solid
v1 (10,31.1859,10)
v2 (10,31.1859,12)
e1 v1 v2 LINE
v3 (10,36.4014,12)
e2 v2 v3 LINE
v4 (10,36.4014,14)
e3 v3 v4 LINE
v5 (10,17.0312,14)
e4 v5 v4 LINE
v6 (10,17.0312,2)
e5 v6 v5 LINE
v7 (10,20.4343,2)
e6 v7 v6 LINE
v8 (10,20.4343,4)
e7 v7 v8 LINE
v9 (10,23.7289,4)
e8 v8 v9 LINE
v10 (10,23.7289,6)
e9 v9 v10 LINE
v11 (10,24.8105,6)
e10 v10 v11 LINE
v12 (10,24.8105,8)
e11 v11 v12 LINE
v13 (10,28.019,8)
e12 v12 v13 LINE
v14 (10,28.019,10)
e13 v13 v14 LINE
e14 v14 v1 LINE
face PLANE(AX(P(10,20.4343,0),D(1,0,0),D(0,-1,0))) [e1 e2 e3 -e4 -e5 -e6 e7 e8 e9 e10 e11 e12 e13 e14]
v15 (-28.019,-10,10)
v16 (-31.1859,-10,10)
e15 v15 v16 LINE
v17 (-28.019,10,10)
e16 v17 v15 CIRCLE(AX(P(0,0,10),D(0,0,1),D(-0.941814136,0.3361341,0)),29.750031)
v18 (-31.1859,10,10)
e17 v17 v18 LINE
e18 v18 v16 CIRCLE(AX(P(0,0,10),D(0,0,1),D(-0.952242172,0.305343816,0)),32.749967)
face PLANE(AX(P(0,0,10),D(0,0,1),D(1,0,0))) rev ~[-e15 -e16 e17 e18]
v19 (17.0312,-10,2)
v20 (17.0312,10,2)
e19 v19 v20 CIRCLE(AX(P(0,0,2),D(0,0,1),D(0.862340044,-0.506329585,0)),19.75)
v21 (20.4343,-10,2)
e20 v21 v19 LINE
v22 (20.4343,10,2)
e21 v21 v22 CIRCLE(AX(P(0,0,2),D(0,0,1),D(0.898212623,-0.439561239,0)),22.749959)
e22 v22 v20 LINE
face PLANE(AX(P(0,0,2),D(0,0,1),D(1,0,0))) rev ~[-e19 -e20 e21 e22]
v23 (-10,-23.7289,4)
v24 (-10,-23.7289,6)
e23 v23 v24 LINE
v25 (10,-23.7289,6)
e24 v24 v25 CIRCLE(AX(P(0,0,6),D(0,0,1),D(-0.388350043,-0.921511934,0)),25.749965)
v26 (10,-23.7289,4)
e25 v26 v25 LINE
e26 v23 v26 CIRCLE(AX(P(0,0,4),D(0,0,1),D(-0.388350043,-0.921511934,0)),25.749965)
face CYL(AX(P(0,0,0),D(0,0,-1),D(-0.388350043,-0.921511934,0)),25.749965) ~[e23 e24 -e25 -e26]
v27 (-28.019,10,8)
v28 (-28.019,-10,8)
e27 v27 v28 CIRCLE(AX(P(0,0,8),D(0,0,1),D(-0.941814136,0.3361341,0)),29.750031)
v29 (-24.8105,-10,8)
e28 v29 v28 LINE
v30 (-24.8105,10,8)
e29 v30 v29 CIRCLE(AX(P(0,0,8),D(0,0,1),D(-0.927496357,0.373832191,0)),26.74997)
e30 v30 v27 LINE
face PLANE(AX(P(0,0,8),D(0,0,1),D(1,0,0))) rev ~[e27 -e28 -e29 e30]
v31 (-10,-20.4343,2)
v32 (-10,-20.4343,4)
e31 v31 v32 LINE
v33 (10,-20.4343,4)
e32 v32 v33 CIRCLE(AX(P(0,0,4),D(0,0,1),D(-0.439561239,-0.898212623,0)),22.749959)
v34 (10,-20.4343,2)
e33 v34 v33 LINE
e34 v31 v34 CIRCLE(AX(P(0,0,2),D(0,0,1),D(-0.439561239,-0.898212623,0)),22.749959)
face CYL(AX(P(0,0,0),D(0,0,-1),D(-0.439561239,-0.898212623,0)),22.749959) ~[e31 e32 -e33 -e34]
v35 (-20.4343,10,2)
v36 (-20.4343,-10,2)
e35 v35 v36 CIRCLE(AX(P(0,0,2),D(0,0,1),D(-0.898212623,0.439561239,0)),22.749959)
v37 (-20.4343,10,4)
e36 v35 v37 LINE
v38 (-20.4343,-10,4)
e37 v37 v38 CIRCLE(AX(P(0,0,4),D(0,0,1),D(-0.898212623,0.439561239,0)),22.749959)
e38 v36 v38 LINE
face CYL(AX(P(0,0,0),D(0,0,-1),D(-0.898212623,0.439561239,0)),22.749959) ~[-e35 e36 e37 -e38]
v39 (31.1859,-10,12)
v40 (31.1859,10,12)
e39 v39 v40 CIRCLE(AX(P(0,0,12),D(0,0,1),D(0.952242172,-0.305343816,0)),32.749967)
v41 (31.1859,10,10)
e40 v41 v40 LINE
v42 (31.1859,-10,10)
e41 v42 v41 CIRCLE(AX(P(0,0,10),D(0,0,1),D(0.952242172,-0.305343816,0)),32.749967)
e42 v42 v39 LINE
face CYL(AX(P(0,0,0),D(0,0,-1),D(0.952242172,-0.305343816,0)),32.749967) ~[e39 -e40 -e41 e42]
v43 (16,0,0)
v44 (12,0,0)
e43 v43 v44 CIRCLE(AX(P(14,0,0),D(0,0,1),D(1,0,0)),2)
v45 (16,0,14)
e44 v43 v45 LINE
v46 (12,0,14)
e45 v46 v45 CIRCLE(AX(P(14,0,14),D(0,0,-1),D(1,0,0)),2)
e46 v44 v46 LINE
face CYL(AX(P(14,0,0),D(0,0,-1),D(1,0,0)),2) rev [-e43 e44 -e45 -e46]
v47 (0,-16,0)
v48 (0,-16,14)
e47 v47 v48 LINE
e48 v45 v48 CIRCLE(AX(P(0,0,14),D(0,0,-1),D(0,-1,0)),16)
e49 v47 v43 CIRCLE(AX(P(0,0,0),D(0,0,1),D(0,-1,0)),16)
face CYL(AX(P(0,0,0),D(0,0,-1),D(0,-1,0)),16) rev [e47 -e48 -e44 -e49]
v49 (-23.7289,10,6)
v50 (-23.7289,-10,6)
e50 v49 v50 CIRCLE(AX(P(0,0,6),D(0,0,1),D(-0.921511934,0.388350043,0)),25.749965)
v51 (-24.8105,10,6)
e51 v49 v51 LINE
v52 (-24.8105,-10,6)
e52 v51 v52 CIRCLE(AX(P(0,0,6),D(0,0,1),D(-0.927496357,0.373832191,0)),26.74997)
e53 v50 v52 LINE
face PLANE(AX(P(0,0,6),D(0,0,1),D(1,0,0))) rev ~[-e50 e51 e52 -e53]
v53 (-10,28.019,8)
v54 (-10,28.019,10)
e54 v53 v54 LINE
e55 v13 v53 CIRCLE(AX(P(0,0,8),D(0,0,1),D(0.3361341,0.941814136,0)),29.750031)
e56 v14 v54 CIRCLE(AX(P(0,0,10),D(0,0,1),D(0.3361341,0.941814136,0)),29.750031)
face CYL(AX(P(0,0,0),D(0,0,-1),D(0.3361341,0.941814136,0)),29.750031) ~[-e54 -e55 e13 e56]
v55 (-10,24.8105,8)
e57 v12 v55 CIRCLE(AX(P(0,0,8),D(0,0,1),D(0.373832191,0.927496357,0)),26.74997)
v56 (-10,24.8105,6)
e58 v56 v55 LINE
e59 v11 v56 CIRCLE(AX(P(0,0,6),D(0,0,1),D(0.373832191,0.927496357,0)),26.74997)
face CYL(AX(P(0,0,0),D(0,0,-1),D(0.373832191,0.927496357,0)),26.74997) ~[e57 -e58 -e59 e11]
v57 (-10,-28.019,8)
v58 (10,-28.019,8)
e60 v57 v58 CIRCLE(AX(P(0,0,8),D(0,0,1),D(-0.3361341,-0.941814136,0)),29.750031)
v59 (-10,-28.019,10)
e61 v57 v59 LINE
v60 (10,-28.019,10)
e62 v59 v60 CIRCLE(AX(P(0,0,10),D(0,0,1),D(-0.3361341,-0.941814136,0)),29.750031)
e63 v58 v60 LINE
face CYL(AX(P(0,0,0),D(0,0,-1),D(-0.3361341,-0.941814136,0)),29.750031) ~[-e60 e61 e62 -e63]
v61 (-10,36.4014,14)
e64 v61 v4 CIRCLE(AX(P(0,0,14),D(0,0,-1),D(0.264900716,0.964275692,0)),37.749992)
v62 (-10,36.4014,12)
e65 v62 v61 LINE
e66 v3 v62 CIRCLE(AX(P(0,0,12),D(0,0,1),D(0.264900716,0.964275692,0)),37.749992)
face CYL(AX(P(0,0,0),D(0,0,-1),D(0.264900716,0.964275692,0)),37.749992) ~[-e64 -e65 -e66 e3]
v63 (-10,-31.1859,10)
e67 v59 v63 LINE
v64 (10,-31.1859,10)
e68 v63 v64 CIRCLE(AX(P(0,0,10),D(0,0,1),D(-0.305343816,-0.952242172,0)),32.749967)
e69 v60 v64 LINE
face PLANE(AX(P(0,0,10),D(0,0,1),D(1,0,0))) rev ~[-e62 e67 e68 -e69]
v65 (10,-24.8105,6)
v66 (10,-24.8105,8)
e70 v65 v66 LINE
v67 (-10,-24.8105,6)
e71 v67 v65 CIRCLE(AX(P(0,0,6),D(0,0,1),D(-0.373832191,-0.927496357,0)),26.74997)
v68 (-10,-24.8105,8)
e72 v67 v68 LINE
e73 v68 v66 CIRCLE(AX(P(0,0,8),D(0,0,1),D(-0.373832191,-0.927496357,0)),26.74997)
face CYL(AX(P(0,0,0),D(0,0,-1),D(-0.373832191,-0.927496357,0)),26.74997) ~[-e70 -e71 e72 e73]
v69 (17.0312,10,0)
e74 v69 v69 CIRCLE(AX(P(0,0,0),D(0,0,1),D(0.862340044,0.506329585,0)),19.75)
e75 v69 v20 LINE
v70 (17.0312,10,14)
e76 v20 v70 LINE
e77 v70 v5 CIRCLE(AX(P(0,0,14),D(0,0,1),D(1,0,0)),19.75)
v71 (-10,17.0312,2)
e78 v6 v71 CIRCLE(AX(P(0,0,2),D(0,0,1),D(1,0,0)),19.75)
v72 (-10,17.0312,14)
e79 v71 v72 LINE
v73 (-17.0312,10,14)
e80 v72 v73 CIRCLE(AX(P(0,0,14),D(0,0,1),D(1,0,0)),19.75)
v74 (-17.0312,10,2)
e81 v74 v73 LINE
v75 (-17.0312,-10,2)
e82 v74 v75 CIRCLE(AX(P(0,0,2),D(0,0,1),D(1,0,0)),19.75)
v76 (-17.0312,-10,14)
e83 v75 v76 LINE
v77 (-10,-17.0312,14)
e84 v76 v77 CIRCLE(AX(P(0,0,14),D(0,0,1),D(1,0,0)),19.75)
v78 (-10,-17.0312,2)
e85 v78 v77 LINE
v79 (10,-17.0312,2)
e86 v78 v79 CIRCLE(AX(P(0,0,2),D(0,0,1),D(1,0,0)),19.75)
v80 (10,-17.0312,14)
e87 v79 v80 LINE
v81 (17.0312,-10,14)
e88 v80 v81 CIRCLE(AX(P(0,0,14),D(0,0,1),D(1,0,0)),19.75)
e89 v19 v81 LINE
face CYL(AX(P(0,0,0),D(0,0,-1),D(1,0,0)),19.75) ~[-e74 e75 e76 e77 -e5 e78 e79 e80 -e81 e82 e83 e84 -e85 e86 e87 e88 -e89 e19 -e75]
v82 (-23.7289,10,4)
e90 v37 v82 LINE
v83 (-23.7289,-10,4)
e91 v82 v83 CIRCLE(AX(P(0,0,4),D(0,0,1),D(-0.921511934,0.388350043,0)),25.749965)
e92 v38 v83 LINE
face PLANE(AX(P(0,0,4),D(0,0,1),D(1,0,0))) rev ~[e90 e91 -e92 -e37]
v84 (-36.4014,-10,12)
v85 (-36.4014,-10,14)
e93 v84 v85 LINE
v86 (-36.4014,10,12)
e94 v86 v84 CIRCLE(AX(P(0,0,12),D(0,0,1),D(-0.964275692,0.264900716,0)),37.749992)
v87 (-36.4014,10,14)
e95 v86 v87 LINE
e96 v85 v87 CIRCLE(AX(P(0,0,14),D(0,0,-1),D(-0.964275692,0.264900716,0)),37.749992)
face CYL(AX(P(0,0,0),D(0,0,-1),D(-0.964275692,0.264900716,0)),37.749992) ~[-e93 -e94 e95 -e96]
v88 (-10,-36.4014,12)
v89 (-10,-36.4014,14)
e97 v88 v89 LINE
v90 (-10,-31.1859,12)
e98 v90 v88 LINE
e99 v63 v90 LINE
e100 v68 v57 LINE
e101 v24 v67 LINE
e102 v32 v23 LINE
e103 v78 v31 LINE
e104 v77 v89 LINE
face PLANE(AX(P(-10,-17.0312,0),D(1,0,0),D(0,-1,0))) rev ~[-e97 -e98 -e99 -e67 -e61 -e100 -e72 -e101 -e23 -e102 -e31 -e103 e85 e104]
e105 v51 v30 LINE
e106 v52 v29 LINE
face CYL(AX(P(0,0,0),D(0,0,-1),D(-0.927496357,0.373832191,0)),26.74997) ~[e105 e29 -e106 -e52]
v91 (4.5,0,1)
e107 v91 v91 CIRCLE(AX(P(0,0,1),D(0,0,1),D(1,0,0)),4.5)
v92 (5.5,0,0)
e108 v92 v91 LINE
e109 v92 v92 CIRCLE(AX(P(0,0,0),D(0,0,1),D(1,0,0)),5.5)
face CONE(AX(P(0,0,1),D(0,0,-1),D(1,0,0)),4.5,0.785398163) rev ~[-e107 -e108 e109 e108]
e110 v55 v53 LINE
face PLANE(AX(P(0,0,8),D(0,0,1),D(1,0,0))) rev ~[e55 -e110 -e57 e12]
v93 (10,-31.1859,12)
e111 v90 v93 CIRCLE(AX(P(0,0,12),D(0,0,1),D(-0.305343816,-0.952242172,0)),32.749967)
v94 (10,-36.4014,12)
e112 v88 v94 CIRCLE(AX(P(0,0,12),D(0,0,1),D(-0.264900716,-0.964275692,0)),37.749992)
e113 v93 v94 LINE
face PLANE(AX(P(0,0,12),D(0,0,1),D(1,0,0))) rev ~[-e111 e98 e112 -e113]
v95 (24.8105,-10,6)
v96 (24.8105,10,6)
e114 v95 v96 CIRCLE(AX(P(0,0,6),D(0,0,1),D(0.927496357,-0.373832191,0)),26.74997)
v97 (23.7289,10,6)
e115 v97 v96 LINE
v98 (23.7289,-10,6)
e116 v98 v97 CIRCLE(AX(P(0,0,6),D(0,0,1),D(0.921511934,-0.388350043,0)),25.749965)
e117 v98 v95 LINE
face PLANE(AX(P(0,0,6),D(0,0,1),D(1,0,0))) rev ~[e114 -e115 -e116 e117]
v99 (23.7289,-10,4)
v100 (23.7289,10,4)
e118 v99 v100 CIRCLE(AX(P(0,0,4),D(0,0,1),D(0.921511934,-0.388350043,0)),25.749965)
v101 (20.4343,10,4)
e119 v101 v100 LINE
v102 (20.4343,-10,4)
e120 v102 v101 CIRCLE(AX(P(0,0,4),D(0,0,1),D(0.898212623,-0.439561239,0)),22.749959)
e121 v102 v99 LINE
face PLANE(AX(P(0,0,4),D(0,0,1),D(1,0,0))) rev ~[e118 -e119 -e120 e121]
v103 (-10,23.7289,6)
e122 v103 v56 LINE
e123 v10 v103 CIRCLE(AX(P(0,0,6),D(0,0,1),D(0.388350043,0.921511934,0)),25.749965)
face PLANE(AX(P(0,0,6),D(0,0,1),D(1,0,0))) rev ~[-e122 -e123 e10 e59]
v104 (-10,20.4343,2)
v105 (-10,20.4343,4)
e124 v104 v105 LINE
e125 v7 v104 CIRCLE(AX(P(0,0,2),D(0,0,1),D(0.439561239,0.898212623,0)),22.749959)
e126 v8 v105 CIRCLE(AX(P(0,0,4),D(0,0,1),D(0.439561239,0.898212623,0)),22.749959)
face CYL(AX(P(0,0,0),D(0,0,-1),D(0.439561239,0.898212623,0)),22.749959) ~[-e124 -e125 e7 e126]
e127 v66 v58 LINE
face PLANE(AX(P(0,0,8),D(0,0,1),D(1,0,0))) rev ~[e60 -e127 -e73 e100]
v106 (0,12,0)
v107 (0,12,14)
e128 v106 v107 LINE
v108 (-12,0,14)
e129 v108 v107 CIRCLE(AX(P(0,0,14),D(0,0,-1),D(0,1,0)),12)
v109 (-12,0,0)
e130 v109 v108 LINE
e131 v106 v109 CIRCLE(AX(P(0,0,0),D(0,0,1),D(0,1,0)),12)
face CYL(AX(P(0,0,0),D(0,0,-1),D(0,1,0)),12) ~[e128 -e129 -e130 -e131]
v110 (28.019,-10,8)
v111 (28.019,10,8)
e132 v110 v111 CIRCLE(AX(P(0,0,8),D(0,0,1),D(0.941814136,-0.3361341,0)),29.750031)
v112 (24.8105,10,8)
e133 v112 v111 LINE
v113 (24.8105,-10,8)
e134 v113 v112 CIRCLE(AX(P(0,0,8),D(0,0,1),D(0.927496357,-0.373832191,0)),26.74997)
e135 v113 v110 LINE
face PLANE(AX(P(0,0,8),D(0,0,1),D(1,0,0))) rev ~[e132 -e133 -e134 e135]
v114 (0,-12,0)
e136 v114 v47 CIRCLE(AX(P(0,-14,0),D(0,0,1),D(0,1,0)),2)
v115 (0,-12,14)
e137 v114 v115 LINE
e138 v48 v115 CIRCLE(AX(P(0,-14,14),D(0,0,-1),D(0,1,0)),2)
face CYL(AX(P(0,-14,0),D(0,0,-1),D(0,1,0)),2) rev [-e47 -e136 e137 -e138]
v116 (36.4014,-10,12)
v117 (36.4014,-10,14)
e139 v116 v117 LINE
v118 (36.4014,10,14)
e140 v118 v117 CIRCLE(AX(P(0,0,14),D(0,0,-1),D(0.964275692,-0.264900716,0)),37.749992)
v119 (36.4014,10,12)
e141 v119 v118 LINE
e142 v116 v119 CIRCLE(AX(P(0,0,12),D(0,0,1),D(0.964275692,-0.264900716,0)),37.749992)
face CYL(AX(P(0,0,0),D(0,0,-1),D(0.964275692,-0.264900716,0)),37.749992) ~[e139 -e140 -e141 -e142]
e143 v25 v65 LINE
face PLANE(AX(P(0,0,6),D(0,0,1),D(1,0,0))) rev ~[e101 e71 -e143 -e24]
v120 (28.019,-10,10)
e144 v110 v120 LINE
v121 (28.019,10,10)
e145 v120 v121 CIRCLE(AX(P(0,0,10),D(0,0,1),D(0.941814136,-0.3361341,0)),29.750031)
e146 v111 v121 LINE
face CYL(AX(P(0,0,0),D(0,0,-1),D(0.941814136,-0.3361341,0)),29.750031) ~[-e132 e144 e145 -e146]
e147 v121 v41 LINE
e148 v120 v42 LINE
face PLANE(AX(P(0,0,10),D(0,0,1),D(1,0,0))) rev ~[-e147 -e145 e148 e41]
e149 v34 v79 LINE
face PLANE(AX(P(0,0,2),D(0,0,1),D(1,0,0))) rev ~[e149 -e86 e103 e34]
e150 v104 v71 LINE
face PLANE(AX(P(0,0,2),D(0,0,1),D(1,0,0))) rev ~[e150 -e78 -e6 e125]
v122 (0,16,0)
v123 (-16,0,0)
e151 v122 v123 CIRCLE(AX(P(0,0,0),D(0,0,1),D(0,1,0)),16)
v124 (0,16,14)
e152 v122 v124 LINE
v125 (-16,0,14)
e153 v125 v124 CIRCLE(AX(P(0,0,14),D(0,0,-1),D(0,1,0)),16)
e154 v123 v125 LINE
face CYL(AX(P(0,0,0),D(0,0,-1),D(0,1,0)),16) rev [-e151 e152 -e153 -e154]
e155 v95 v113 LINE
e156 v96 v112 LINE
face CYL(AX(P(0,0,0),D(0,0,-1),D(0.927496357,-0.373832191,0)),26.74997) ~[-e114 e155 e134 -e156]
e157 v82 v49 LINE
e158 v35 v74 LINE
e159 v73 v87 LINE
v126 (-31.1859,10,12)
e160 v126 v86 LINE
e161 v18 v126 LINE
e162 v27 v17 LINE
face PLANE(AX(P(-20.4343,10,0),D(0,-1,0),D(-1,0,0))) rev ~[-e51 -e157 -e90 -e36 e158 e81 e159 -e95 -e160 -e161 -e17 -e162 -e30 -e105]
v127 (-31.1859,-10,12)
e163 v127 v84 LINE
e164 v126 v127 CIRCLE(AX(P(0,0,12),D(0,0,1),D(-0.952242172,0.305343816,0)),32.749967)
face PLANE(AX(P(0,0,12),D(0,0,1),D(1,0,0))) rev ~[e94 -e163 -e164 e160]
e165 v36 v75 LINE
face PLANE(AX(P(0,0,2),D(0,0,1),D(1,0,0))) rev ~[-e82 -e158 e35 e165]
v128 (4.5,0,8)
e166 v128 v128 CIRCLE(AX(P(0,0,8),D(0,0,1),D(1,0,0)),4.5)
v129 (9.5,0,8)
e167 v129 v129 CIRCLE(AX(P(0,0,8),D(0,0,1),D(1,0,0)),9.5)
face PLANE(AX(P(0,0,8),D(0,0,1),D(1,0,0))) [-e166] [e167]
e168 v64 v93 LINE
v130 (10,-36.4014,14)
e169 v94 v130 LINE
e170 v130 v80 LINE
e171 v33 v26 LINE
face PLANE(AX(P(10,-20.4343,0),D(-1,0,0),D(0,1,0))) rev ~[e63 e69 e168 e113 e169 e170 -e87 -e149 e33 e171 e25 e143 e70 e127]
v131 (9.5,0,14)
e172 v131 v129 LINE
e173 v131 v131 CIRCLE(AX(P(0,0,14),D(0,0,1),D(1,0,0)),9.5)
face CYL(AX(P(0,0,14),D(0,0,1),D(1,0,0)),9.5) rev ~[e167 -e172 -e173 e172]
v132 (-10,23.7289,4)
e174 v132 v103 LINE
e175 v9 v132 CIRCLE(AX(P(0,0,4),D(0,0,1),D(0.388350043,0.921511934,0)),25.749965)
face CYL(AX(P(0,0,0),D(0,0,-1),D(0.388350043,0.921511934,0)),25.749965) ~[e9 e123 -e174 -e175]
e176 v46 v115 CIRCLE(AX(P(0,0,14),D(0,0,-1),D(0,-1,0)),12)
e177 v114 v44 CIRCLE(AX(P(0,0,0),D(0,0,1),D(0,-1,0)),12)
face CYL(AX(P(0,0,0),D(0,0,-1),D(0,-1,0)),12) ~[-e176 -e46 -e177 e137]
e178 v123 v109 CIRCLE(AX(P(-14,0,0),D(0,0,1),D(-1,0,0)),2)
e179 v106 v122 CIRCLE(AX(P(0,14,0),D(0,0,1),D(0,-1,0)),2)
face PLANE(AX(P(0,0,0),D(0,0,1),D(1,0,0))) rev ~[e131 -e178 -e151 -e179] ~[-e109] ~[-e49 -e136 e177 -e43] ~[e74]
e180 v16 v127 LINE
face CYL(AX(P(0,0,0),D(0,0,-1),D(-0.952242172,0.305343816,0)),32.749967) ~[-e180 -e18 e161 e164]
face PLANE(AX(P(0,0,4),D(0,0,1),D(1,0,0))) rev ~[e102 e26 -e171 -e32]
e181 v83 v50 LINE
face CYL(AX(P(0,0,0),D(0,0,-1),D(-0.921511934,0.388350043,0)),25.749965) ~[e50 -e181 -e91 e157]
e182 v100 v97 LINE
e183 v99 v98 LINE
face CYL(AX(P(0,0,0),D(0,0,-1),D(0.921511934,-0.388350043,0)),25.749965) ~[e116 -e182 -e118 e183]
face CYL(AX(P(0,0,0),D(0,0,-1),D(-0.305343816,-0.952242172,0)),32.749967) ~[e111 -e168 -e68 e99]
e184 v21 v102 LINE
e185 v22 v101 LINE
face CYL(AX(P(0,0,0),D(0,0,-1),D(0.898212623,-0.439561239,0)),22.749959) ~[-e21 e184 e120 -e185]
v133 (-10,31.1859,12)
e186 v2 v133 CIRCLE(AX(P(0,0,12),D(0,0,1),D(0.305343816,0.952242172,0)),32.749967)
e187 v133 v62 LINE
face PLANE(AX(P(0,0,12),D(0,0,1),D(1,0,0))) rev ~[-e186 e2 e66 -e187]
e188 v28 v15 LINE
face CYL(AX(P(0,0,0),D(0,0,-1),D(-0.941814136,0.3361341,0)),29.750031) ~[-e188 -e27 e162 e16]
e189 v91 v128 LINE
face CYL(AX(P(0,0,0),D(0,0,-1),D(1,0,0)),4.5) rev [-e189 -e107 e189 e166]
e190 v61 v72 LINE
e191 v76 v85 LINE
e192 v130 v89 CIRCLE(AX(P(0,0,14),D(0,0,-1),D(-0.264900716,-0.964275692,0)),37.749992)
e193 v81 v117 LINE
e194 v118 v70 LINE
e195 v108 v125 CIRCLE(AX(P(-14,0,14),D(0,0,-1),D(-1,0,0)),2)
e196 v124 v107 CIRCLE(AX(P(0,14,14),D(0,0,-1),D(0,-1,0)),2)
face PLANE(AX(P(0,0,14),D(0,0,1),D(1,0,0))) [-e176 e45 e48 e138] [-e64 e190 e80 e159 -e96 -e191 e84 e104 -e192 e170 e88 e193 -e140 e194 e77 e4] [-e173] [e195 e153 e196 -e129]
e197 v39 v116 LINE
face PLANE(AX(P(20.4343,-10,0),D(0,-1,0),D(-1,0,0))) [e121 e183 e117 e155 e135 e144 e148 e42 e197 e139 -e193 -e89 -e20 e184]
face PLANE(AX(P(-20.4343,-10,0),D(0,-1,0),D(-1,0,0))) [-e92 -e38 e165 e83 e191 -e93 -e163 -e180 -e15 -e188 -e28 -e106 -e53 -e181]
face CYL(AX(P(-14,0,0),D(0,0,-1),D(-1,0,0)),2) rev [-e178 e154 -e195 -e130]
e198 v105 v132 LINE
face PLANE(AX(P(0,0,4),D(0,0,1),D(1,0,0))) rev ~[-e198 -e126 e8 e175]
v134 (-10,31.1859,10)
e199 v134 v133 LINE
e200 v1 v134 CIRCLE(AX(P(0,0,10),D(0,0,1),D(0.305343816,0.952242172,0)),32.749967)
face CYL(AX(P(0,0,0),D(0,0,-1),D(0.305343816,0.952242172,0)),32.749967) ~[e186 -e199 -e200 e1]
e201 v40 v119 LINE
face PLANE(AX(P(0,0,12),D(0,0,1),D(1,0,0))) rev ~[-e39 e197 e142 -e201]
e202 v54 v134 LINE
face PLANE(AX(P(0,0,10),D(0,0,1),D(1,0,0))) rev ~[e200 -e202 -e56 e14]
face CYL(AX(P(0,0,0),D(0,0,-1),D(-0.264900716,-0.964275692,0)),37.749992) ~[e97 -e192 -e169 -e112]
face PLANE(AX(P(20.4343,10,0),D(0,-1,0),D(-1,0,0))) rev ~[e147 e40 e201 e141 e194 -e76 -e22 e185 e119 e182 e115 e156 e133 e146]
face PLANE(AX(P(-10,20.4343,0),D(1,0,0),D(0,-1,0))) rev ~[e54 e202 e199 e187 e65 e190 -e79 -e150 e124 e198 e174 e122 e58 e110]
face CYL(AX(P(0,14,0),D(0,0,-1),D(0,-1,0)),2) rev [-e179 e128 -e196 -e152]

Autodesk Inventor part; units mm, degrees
ref_plane "YZ Plane" through (0, 0, 0) normal (1, 0, 0) x (0, 1, 0)
ref_plane "XZ Plane" through (0, 0, 0) normal (0, 1, 0) x (-1, 0, 0)
ref_plane "XY Plane" through (0, 0, 0) normal (0, 0, 1) x (1, 0, 0)
sketch "Szkic1" plane through (0, 0, 0) normal (0, 0, 1) x (1, 0, 0)
  line L0 (-20.4343, -10) -> (-41.564, -10)
  line L1 (-20.4343, 10) -> (-41.564, 10)
  line L2 (-10, -20.4343) -> (-10, -41.564)
  line L3 (10, -20.4343) -> (10, -41.564)
  line L4 (20.4343, -10) -> (41.564, -10)
  line L5 (20.4343, 10) -> (41.564, 10)
  line L6 (10, 20.4343) -> (10, 41.564)
  line L7 (-10, 20.4343) -> (-10, 41.564)
  arc A0 (-36.4014, 10) -> (-36.4014, -10) centre (0, 0) ccw
  arc A1 (-31.1859, 10) -> (-31.1859, -10) centre (0, 0) ccw
  arc A2 (-28.019, 10) -> (-28.019, -10) centre (0, 0) ccw
  arc A3 (-24.8105, 10) -> (-24.8105, -10) centre (0, 0) ccw
  arc A4 (-23.7289, 10) -> (-23.7289, -10) centre (0, 0) ccw
  arc A5 (-20.4343, 10) -> (-20.4343, -10) centre (0, 0) ccw
  arc A6 (-41.564, 10) -> (-41.564, -10) centre (0, 0) ccw
  arc A7 (-10, -20.4343) -> (10, -20.4343) centre (0, 0) ccw
  arc A8 (-10, -23.7289) -> (10, -23.7289) centre (0, 0) ccw
  arc A9 (-10, -24.8105) -> (10, -24.8105) centre (0, 0) ccw
  arc A10 (-10, -28.019) -> (10, -28.019) centre (0, 0) ccw
  arc A11 (-10, -31.1859) -> (10, -31.1859) centre (0, 0) ccw
  arc A12 (-10, -36.4014) -> (10, -36.4014) centre (0, 0) ccw
  arc A13 (-10, -41.564) -> (10, -41.564) centre (0, 0) ccw
  arc A14 (20.4343, -10) -> (20.4343, 10) centre (0, 0) ccw
  arc A15 (10, 20.4343) -> (-10, 20.4343) centre (0, 0) ccw
  arc A16 (23.7289, -10) -> (23.7289, 10) centre (0, 0) ccw
  arc A17 (10, 23.7289) -> (-10, 23.7289) centre (0, 0) ccw
  arc A18 (24.8105, -10) -> (24.8105, 10) centre (0, 0) ccw
  arc A19 (10, 24.8105) -> (-10, 24.8105) centre (0, 0) ccw
  arc A20 (28.019, -10) -> (28.019, 10) centre (0, 0) ccw
  arc A21 (10, 28.019) -> (-10, 28.019) centre (0, 0) ccw
  arc A22 (31.1859, -10) -> (31.1859, 10) centre (0, 0) ccw
  arc A23 (10, 31.1859) -> (-10, 31.1859) centre (0, 0) ccw
  arc A24 (36.4014, -10) -> (36.4014, 10) centre (0, 0) ccw
  arc A25 (10, 36.4014) -> (-10, 36.4014) centre (0, 0) ccw
  arc A26 (41.564, -10) -> (41.564, 10) centre (0, 0) ccw
  arc A27 (10, 41.564) -> (-10, 41.564) centre (0, 0) ccw
  circle A28 centre (0, 0) radius 4.5
  circle A29 centre (0, 0) radius 19.75
  line L8 (10, 20.4343) -> (10, 17.0312)
  line L9 (-10, 20.4343) -> (-10, 17.0312)
  line L10 (10, -20.4343) -> (10, -17.0312)
  line L11 (-20.4343, -10) -> (-17.0312, -10)
  line L12 (-20.4343, 10) -> (-17.0312, 10)
  line L13 (-10, -17.0312) -> (-10, -20.4343)
  line L14 (20.4343, 10) -> (17.0312, 10)
  line L15 (20.4343, -10) -> (17.0312, -10)
  line L16 (0, -4.5265) -> (0, 3.8342)
  line L17 (3.7027, 0) -> (-4.6541, 0)
  arc A30 (0, -14) -> (14, 0) centre (0, 0) ccw construction
  arc A31 (0, -16.5) -> (16.5, 0) centre (0, 0) ccw
  arc A32 (0, -11.5) -> (11.5, 0) centre (0, 0) ccw
  arc A33 (0, -11.5) -> (0, -16.5) centre (0, -14) ccw
  arc A34 (16.5, 0) -> (11.5, 0) centre (14, 0) ccw
  arc A35 (0, 14) -> (-14, 0) centre (0, 0) ccw construction
  arc A36 (0, 16.5) -> (-16.5, 0) centre (0, 0) ccw
  arc A37 (0, 11.5) -> (-11.5, 0) centre (0, 0) ccw
  arc A38 (0, 11.5) -> (0, 16.5) centre (0, 14) ccw
  arc A39 (-16.5, 0) -> (-11.5, 0) centre (-14, 0) ccw
  arc A40 (0, -12) -> (12, 0) centre (0, 0) ccw
  arc A41 (0, -12) -> (0, -16) centre (0, -14) ccw
  arc A42 (0, -16) -> (16, 0) centre (0, 0) ccw
  arc A43 (16, 0) -> (12, 0) centre (14, 0) ccw
  arc A44 (0, 12) -> (-12, 0) centre (0, 0) ccw
  arc A45 (0, 12) -> (0, 16) centre (0, 14) ccw
  arc A46 (0, 16) -> (-16, 0) centre (0, 0) ccw
  arc A47 (-16, 0) -> (-12, 0) centre (-14, 0) ccw
  point P0 (10, -17.0312)
  point P1 (-10, -17.0312)
  point P2 (-10, 17.0312)
  dimension "d62" = 22.75
  dimension "d14" = 9
  dimension "d42" = 14
  dimension "d43" = 14
  dimension "d44" = 14
  dimension "d45" = 14
  dimension "d47" = 5
  dimension "d48" = 5
  dimension "d57" = 0.5
  dimension "d58" = 0.5
extrude "Wyciągnięcie proste2" add sketch "Szkic1" along normal blind 14 contours L0 A4 L1 A5 | A5 L12 A29 L11 | L0 A3 L1 A4 | A29 | L0 A2 L1 A3 | A29 L10 A7 L13 | L0 A1 L1 A2 | L9 A15 L8 A29 | A7 L3 A8 L2 | L0 A0 L1 A1 | L7 A17 L6 A15 | A29 L14 A14 L15 | A8 L3 A9 L2 | L0 A6 L1 A0 | L7 A19 L6 A17 | A14 L5 A16 L4 | A9 L3 A10 L2 | L7 A21 L6 A19 | A16 L5 A18 L4 | A10 L3 A11 L2 | L7 A23 L6 A21 | A18 L5 A20 L4 | A11 L3 A12 L2 | L7 A25 L6 A23 | A20 L5 A22 L4 | A12 L3 A13 L2 | L7 A27 L6 A25 | A22 L5 A24 L4 | A24 L5 A26 L4 | A33 A32 A34 A31 | A38 A37 A39 A36 | A40 A43 A42 A41 | A44 A47 A46 A45
extrude "Wyciągnięcie proste3" cut sketch "Szkic1" along normal blind 2 contours A5 L12 A29 L11 | A29 L10 A7 L13 | L9 A15 L8 A29 | A29 L14 A14 L15
extrude "Wyciągnięcie proste4" cut sketch "Szkic1" along normal blind 4 contours L0 A4 L1 A5 | A7 L3 A8 L2 | L7 A17 L6 A15 | A14 L5 A16 L4
extrude "Wyciągnięcie proste5" cut sketch "Szkic1" along normal blind 6 contours L0 A3 L1 A4 | A8 L3 A9 L2 | L7 A19 L6 A17 | A16 L5 A18 L4
extrude "Wyciągnięcie proste6" cut sketch "Szkic1" along normal blind 8 contours L0 A2 L1 A3 | A9 L3 A10 L2 | L7 A21 L6 A19 | A18 L5 A20 L4
extrude "Wyciągnięcie proste7" cut sketch "Szkic1" along normal blind 10 contours L0 A1 L1 A2 | A10 L3 A11 L2 | L7 A23 L6 A21 | A20 L5 A22 L4
extrude "Wyciągnięcie proste8" cut sketch "Szkic1" along normal blind 12 contours L0 A0 L1 A1 | A11 L3 A12 L2 | L7 A25 L6 A23 | A22 L5 A24 L4
extrude "Wyciągnięcie proste9" cut sketch "Szkic1" along normal blind 15 contours L0 A6 L1 A0 | A12 L3 A13 L2 | L7 A27 L6 A25 | A24 L5 A26 L4
sketch "Szkic2" plane through (0, 0, 14) normal (0, 0, 1) x (1, 0, 0)
  circle A0 centre (0, 0) radius 4.5 projected
  line L0 (10, -36.4014) -> (10, -17.0312) projected
  arc A1 (10, -17.0312) -> (17.0312, -10) centre (0, 0) ccw projected
  line L1 (17.0312, -10) -> (36.4014, -10) projected
  line L2 (36.4014, 10) -> (17.0312, 10) projected
  arc A2 (17.0312, 10) -> (10, 17.0312) centre (0, 0) ccw projected
  line L3 (10, 17.0312) -> (10, 36.4014) projected
  line L4 (-10, 36.4014) -> (-10, 17.0312) projected
  arc A3 (-10, 17.0312) -> (-17.0312, 10) centre (0, 0) ccw projected
  line L5 (-17.0312, 10) -> (-36.4014, 10) projected
  line L6 (-36.4014, -10) -> (-17.0312, -10) projected
  arc A4 (-17.0312, -10) -> (-10, -17.0312) centre (0, 0) ccw projected
  line L7 (-10, -17.0312) -> (-10, -36.4014) projected
  circle A5 centre (0, 0) radius 9.5
  arc A6 (36.4014, -10) -> (36.4014, 10) centre (0, 0) ccw projected
  arc A7 (10, 36.4014) -> (-10, 36.4014) centre (0, 0) ccw projected
  arc A8 (-36.4014, 10) -> (-36.4014, -10) centre (0, 0) ccw projected
  arc A9 (-10, -36.4014) -> (10, -36.4014) centre (0, 0) ccw projected
  dimension "d33" = 19
extrude "Wyciągnięcie proste10" cut sketch "Szkic2" against normal blind 6 contours A5
chamfer "Faza2" distance 1 angle 45 1 edges at (-4.5, 0, 0)
extrude "Wyciągnięcie proste12" cut sketch "Szkic1" along normal blind 17 contours A40 A43 A42 A41 | A44 A47 A46 A45
properties part number "3DP_ABS_Filament_Spool_Mount_Bearing_Block"
